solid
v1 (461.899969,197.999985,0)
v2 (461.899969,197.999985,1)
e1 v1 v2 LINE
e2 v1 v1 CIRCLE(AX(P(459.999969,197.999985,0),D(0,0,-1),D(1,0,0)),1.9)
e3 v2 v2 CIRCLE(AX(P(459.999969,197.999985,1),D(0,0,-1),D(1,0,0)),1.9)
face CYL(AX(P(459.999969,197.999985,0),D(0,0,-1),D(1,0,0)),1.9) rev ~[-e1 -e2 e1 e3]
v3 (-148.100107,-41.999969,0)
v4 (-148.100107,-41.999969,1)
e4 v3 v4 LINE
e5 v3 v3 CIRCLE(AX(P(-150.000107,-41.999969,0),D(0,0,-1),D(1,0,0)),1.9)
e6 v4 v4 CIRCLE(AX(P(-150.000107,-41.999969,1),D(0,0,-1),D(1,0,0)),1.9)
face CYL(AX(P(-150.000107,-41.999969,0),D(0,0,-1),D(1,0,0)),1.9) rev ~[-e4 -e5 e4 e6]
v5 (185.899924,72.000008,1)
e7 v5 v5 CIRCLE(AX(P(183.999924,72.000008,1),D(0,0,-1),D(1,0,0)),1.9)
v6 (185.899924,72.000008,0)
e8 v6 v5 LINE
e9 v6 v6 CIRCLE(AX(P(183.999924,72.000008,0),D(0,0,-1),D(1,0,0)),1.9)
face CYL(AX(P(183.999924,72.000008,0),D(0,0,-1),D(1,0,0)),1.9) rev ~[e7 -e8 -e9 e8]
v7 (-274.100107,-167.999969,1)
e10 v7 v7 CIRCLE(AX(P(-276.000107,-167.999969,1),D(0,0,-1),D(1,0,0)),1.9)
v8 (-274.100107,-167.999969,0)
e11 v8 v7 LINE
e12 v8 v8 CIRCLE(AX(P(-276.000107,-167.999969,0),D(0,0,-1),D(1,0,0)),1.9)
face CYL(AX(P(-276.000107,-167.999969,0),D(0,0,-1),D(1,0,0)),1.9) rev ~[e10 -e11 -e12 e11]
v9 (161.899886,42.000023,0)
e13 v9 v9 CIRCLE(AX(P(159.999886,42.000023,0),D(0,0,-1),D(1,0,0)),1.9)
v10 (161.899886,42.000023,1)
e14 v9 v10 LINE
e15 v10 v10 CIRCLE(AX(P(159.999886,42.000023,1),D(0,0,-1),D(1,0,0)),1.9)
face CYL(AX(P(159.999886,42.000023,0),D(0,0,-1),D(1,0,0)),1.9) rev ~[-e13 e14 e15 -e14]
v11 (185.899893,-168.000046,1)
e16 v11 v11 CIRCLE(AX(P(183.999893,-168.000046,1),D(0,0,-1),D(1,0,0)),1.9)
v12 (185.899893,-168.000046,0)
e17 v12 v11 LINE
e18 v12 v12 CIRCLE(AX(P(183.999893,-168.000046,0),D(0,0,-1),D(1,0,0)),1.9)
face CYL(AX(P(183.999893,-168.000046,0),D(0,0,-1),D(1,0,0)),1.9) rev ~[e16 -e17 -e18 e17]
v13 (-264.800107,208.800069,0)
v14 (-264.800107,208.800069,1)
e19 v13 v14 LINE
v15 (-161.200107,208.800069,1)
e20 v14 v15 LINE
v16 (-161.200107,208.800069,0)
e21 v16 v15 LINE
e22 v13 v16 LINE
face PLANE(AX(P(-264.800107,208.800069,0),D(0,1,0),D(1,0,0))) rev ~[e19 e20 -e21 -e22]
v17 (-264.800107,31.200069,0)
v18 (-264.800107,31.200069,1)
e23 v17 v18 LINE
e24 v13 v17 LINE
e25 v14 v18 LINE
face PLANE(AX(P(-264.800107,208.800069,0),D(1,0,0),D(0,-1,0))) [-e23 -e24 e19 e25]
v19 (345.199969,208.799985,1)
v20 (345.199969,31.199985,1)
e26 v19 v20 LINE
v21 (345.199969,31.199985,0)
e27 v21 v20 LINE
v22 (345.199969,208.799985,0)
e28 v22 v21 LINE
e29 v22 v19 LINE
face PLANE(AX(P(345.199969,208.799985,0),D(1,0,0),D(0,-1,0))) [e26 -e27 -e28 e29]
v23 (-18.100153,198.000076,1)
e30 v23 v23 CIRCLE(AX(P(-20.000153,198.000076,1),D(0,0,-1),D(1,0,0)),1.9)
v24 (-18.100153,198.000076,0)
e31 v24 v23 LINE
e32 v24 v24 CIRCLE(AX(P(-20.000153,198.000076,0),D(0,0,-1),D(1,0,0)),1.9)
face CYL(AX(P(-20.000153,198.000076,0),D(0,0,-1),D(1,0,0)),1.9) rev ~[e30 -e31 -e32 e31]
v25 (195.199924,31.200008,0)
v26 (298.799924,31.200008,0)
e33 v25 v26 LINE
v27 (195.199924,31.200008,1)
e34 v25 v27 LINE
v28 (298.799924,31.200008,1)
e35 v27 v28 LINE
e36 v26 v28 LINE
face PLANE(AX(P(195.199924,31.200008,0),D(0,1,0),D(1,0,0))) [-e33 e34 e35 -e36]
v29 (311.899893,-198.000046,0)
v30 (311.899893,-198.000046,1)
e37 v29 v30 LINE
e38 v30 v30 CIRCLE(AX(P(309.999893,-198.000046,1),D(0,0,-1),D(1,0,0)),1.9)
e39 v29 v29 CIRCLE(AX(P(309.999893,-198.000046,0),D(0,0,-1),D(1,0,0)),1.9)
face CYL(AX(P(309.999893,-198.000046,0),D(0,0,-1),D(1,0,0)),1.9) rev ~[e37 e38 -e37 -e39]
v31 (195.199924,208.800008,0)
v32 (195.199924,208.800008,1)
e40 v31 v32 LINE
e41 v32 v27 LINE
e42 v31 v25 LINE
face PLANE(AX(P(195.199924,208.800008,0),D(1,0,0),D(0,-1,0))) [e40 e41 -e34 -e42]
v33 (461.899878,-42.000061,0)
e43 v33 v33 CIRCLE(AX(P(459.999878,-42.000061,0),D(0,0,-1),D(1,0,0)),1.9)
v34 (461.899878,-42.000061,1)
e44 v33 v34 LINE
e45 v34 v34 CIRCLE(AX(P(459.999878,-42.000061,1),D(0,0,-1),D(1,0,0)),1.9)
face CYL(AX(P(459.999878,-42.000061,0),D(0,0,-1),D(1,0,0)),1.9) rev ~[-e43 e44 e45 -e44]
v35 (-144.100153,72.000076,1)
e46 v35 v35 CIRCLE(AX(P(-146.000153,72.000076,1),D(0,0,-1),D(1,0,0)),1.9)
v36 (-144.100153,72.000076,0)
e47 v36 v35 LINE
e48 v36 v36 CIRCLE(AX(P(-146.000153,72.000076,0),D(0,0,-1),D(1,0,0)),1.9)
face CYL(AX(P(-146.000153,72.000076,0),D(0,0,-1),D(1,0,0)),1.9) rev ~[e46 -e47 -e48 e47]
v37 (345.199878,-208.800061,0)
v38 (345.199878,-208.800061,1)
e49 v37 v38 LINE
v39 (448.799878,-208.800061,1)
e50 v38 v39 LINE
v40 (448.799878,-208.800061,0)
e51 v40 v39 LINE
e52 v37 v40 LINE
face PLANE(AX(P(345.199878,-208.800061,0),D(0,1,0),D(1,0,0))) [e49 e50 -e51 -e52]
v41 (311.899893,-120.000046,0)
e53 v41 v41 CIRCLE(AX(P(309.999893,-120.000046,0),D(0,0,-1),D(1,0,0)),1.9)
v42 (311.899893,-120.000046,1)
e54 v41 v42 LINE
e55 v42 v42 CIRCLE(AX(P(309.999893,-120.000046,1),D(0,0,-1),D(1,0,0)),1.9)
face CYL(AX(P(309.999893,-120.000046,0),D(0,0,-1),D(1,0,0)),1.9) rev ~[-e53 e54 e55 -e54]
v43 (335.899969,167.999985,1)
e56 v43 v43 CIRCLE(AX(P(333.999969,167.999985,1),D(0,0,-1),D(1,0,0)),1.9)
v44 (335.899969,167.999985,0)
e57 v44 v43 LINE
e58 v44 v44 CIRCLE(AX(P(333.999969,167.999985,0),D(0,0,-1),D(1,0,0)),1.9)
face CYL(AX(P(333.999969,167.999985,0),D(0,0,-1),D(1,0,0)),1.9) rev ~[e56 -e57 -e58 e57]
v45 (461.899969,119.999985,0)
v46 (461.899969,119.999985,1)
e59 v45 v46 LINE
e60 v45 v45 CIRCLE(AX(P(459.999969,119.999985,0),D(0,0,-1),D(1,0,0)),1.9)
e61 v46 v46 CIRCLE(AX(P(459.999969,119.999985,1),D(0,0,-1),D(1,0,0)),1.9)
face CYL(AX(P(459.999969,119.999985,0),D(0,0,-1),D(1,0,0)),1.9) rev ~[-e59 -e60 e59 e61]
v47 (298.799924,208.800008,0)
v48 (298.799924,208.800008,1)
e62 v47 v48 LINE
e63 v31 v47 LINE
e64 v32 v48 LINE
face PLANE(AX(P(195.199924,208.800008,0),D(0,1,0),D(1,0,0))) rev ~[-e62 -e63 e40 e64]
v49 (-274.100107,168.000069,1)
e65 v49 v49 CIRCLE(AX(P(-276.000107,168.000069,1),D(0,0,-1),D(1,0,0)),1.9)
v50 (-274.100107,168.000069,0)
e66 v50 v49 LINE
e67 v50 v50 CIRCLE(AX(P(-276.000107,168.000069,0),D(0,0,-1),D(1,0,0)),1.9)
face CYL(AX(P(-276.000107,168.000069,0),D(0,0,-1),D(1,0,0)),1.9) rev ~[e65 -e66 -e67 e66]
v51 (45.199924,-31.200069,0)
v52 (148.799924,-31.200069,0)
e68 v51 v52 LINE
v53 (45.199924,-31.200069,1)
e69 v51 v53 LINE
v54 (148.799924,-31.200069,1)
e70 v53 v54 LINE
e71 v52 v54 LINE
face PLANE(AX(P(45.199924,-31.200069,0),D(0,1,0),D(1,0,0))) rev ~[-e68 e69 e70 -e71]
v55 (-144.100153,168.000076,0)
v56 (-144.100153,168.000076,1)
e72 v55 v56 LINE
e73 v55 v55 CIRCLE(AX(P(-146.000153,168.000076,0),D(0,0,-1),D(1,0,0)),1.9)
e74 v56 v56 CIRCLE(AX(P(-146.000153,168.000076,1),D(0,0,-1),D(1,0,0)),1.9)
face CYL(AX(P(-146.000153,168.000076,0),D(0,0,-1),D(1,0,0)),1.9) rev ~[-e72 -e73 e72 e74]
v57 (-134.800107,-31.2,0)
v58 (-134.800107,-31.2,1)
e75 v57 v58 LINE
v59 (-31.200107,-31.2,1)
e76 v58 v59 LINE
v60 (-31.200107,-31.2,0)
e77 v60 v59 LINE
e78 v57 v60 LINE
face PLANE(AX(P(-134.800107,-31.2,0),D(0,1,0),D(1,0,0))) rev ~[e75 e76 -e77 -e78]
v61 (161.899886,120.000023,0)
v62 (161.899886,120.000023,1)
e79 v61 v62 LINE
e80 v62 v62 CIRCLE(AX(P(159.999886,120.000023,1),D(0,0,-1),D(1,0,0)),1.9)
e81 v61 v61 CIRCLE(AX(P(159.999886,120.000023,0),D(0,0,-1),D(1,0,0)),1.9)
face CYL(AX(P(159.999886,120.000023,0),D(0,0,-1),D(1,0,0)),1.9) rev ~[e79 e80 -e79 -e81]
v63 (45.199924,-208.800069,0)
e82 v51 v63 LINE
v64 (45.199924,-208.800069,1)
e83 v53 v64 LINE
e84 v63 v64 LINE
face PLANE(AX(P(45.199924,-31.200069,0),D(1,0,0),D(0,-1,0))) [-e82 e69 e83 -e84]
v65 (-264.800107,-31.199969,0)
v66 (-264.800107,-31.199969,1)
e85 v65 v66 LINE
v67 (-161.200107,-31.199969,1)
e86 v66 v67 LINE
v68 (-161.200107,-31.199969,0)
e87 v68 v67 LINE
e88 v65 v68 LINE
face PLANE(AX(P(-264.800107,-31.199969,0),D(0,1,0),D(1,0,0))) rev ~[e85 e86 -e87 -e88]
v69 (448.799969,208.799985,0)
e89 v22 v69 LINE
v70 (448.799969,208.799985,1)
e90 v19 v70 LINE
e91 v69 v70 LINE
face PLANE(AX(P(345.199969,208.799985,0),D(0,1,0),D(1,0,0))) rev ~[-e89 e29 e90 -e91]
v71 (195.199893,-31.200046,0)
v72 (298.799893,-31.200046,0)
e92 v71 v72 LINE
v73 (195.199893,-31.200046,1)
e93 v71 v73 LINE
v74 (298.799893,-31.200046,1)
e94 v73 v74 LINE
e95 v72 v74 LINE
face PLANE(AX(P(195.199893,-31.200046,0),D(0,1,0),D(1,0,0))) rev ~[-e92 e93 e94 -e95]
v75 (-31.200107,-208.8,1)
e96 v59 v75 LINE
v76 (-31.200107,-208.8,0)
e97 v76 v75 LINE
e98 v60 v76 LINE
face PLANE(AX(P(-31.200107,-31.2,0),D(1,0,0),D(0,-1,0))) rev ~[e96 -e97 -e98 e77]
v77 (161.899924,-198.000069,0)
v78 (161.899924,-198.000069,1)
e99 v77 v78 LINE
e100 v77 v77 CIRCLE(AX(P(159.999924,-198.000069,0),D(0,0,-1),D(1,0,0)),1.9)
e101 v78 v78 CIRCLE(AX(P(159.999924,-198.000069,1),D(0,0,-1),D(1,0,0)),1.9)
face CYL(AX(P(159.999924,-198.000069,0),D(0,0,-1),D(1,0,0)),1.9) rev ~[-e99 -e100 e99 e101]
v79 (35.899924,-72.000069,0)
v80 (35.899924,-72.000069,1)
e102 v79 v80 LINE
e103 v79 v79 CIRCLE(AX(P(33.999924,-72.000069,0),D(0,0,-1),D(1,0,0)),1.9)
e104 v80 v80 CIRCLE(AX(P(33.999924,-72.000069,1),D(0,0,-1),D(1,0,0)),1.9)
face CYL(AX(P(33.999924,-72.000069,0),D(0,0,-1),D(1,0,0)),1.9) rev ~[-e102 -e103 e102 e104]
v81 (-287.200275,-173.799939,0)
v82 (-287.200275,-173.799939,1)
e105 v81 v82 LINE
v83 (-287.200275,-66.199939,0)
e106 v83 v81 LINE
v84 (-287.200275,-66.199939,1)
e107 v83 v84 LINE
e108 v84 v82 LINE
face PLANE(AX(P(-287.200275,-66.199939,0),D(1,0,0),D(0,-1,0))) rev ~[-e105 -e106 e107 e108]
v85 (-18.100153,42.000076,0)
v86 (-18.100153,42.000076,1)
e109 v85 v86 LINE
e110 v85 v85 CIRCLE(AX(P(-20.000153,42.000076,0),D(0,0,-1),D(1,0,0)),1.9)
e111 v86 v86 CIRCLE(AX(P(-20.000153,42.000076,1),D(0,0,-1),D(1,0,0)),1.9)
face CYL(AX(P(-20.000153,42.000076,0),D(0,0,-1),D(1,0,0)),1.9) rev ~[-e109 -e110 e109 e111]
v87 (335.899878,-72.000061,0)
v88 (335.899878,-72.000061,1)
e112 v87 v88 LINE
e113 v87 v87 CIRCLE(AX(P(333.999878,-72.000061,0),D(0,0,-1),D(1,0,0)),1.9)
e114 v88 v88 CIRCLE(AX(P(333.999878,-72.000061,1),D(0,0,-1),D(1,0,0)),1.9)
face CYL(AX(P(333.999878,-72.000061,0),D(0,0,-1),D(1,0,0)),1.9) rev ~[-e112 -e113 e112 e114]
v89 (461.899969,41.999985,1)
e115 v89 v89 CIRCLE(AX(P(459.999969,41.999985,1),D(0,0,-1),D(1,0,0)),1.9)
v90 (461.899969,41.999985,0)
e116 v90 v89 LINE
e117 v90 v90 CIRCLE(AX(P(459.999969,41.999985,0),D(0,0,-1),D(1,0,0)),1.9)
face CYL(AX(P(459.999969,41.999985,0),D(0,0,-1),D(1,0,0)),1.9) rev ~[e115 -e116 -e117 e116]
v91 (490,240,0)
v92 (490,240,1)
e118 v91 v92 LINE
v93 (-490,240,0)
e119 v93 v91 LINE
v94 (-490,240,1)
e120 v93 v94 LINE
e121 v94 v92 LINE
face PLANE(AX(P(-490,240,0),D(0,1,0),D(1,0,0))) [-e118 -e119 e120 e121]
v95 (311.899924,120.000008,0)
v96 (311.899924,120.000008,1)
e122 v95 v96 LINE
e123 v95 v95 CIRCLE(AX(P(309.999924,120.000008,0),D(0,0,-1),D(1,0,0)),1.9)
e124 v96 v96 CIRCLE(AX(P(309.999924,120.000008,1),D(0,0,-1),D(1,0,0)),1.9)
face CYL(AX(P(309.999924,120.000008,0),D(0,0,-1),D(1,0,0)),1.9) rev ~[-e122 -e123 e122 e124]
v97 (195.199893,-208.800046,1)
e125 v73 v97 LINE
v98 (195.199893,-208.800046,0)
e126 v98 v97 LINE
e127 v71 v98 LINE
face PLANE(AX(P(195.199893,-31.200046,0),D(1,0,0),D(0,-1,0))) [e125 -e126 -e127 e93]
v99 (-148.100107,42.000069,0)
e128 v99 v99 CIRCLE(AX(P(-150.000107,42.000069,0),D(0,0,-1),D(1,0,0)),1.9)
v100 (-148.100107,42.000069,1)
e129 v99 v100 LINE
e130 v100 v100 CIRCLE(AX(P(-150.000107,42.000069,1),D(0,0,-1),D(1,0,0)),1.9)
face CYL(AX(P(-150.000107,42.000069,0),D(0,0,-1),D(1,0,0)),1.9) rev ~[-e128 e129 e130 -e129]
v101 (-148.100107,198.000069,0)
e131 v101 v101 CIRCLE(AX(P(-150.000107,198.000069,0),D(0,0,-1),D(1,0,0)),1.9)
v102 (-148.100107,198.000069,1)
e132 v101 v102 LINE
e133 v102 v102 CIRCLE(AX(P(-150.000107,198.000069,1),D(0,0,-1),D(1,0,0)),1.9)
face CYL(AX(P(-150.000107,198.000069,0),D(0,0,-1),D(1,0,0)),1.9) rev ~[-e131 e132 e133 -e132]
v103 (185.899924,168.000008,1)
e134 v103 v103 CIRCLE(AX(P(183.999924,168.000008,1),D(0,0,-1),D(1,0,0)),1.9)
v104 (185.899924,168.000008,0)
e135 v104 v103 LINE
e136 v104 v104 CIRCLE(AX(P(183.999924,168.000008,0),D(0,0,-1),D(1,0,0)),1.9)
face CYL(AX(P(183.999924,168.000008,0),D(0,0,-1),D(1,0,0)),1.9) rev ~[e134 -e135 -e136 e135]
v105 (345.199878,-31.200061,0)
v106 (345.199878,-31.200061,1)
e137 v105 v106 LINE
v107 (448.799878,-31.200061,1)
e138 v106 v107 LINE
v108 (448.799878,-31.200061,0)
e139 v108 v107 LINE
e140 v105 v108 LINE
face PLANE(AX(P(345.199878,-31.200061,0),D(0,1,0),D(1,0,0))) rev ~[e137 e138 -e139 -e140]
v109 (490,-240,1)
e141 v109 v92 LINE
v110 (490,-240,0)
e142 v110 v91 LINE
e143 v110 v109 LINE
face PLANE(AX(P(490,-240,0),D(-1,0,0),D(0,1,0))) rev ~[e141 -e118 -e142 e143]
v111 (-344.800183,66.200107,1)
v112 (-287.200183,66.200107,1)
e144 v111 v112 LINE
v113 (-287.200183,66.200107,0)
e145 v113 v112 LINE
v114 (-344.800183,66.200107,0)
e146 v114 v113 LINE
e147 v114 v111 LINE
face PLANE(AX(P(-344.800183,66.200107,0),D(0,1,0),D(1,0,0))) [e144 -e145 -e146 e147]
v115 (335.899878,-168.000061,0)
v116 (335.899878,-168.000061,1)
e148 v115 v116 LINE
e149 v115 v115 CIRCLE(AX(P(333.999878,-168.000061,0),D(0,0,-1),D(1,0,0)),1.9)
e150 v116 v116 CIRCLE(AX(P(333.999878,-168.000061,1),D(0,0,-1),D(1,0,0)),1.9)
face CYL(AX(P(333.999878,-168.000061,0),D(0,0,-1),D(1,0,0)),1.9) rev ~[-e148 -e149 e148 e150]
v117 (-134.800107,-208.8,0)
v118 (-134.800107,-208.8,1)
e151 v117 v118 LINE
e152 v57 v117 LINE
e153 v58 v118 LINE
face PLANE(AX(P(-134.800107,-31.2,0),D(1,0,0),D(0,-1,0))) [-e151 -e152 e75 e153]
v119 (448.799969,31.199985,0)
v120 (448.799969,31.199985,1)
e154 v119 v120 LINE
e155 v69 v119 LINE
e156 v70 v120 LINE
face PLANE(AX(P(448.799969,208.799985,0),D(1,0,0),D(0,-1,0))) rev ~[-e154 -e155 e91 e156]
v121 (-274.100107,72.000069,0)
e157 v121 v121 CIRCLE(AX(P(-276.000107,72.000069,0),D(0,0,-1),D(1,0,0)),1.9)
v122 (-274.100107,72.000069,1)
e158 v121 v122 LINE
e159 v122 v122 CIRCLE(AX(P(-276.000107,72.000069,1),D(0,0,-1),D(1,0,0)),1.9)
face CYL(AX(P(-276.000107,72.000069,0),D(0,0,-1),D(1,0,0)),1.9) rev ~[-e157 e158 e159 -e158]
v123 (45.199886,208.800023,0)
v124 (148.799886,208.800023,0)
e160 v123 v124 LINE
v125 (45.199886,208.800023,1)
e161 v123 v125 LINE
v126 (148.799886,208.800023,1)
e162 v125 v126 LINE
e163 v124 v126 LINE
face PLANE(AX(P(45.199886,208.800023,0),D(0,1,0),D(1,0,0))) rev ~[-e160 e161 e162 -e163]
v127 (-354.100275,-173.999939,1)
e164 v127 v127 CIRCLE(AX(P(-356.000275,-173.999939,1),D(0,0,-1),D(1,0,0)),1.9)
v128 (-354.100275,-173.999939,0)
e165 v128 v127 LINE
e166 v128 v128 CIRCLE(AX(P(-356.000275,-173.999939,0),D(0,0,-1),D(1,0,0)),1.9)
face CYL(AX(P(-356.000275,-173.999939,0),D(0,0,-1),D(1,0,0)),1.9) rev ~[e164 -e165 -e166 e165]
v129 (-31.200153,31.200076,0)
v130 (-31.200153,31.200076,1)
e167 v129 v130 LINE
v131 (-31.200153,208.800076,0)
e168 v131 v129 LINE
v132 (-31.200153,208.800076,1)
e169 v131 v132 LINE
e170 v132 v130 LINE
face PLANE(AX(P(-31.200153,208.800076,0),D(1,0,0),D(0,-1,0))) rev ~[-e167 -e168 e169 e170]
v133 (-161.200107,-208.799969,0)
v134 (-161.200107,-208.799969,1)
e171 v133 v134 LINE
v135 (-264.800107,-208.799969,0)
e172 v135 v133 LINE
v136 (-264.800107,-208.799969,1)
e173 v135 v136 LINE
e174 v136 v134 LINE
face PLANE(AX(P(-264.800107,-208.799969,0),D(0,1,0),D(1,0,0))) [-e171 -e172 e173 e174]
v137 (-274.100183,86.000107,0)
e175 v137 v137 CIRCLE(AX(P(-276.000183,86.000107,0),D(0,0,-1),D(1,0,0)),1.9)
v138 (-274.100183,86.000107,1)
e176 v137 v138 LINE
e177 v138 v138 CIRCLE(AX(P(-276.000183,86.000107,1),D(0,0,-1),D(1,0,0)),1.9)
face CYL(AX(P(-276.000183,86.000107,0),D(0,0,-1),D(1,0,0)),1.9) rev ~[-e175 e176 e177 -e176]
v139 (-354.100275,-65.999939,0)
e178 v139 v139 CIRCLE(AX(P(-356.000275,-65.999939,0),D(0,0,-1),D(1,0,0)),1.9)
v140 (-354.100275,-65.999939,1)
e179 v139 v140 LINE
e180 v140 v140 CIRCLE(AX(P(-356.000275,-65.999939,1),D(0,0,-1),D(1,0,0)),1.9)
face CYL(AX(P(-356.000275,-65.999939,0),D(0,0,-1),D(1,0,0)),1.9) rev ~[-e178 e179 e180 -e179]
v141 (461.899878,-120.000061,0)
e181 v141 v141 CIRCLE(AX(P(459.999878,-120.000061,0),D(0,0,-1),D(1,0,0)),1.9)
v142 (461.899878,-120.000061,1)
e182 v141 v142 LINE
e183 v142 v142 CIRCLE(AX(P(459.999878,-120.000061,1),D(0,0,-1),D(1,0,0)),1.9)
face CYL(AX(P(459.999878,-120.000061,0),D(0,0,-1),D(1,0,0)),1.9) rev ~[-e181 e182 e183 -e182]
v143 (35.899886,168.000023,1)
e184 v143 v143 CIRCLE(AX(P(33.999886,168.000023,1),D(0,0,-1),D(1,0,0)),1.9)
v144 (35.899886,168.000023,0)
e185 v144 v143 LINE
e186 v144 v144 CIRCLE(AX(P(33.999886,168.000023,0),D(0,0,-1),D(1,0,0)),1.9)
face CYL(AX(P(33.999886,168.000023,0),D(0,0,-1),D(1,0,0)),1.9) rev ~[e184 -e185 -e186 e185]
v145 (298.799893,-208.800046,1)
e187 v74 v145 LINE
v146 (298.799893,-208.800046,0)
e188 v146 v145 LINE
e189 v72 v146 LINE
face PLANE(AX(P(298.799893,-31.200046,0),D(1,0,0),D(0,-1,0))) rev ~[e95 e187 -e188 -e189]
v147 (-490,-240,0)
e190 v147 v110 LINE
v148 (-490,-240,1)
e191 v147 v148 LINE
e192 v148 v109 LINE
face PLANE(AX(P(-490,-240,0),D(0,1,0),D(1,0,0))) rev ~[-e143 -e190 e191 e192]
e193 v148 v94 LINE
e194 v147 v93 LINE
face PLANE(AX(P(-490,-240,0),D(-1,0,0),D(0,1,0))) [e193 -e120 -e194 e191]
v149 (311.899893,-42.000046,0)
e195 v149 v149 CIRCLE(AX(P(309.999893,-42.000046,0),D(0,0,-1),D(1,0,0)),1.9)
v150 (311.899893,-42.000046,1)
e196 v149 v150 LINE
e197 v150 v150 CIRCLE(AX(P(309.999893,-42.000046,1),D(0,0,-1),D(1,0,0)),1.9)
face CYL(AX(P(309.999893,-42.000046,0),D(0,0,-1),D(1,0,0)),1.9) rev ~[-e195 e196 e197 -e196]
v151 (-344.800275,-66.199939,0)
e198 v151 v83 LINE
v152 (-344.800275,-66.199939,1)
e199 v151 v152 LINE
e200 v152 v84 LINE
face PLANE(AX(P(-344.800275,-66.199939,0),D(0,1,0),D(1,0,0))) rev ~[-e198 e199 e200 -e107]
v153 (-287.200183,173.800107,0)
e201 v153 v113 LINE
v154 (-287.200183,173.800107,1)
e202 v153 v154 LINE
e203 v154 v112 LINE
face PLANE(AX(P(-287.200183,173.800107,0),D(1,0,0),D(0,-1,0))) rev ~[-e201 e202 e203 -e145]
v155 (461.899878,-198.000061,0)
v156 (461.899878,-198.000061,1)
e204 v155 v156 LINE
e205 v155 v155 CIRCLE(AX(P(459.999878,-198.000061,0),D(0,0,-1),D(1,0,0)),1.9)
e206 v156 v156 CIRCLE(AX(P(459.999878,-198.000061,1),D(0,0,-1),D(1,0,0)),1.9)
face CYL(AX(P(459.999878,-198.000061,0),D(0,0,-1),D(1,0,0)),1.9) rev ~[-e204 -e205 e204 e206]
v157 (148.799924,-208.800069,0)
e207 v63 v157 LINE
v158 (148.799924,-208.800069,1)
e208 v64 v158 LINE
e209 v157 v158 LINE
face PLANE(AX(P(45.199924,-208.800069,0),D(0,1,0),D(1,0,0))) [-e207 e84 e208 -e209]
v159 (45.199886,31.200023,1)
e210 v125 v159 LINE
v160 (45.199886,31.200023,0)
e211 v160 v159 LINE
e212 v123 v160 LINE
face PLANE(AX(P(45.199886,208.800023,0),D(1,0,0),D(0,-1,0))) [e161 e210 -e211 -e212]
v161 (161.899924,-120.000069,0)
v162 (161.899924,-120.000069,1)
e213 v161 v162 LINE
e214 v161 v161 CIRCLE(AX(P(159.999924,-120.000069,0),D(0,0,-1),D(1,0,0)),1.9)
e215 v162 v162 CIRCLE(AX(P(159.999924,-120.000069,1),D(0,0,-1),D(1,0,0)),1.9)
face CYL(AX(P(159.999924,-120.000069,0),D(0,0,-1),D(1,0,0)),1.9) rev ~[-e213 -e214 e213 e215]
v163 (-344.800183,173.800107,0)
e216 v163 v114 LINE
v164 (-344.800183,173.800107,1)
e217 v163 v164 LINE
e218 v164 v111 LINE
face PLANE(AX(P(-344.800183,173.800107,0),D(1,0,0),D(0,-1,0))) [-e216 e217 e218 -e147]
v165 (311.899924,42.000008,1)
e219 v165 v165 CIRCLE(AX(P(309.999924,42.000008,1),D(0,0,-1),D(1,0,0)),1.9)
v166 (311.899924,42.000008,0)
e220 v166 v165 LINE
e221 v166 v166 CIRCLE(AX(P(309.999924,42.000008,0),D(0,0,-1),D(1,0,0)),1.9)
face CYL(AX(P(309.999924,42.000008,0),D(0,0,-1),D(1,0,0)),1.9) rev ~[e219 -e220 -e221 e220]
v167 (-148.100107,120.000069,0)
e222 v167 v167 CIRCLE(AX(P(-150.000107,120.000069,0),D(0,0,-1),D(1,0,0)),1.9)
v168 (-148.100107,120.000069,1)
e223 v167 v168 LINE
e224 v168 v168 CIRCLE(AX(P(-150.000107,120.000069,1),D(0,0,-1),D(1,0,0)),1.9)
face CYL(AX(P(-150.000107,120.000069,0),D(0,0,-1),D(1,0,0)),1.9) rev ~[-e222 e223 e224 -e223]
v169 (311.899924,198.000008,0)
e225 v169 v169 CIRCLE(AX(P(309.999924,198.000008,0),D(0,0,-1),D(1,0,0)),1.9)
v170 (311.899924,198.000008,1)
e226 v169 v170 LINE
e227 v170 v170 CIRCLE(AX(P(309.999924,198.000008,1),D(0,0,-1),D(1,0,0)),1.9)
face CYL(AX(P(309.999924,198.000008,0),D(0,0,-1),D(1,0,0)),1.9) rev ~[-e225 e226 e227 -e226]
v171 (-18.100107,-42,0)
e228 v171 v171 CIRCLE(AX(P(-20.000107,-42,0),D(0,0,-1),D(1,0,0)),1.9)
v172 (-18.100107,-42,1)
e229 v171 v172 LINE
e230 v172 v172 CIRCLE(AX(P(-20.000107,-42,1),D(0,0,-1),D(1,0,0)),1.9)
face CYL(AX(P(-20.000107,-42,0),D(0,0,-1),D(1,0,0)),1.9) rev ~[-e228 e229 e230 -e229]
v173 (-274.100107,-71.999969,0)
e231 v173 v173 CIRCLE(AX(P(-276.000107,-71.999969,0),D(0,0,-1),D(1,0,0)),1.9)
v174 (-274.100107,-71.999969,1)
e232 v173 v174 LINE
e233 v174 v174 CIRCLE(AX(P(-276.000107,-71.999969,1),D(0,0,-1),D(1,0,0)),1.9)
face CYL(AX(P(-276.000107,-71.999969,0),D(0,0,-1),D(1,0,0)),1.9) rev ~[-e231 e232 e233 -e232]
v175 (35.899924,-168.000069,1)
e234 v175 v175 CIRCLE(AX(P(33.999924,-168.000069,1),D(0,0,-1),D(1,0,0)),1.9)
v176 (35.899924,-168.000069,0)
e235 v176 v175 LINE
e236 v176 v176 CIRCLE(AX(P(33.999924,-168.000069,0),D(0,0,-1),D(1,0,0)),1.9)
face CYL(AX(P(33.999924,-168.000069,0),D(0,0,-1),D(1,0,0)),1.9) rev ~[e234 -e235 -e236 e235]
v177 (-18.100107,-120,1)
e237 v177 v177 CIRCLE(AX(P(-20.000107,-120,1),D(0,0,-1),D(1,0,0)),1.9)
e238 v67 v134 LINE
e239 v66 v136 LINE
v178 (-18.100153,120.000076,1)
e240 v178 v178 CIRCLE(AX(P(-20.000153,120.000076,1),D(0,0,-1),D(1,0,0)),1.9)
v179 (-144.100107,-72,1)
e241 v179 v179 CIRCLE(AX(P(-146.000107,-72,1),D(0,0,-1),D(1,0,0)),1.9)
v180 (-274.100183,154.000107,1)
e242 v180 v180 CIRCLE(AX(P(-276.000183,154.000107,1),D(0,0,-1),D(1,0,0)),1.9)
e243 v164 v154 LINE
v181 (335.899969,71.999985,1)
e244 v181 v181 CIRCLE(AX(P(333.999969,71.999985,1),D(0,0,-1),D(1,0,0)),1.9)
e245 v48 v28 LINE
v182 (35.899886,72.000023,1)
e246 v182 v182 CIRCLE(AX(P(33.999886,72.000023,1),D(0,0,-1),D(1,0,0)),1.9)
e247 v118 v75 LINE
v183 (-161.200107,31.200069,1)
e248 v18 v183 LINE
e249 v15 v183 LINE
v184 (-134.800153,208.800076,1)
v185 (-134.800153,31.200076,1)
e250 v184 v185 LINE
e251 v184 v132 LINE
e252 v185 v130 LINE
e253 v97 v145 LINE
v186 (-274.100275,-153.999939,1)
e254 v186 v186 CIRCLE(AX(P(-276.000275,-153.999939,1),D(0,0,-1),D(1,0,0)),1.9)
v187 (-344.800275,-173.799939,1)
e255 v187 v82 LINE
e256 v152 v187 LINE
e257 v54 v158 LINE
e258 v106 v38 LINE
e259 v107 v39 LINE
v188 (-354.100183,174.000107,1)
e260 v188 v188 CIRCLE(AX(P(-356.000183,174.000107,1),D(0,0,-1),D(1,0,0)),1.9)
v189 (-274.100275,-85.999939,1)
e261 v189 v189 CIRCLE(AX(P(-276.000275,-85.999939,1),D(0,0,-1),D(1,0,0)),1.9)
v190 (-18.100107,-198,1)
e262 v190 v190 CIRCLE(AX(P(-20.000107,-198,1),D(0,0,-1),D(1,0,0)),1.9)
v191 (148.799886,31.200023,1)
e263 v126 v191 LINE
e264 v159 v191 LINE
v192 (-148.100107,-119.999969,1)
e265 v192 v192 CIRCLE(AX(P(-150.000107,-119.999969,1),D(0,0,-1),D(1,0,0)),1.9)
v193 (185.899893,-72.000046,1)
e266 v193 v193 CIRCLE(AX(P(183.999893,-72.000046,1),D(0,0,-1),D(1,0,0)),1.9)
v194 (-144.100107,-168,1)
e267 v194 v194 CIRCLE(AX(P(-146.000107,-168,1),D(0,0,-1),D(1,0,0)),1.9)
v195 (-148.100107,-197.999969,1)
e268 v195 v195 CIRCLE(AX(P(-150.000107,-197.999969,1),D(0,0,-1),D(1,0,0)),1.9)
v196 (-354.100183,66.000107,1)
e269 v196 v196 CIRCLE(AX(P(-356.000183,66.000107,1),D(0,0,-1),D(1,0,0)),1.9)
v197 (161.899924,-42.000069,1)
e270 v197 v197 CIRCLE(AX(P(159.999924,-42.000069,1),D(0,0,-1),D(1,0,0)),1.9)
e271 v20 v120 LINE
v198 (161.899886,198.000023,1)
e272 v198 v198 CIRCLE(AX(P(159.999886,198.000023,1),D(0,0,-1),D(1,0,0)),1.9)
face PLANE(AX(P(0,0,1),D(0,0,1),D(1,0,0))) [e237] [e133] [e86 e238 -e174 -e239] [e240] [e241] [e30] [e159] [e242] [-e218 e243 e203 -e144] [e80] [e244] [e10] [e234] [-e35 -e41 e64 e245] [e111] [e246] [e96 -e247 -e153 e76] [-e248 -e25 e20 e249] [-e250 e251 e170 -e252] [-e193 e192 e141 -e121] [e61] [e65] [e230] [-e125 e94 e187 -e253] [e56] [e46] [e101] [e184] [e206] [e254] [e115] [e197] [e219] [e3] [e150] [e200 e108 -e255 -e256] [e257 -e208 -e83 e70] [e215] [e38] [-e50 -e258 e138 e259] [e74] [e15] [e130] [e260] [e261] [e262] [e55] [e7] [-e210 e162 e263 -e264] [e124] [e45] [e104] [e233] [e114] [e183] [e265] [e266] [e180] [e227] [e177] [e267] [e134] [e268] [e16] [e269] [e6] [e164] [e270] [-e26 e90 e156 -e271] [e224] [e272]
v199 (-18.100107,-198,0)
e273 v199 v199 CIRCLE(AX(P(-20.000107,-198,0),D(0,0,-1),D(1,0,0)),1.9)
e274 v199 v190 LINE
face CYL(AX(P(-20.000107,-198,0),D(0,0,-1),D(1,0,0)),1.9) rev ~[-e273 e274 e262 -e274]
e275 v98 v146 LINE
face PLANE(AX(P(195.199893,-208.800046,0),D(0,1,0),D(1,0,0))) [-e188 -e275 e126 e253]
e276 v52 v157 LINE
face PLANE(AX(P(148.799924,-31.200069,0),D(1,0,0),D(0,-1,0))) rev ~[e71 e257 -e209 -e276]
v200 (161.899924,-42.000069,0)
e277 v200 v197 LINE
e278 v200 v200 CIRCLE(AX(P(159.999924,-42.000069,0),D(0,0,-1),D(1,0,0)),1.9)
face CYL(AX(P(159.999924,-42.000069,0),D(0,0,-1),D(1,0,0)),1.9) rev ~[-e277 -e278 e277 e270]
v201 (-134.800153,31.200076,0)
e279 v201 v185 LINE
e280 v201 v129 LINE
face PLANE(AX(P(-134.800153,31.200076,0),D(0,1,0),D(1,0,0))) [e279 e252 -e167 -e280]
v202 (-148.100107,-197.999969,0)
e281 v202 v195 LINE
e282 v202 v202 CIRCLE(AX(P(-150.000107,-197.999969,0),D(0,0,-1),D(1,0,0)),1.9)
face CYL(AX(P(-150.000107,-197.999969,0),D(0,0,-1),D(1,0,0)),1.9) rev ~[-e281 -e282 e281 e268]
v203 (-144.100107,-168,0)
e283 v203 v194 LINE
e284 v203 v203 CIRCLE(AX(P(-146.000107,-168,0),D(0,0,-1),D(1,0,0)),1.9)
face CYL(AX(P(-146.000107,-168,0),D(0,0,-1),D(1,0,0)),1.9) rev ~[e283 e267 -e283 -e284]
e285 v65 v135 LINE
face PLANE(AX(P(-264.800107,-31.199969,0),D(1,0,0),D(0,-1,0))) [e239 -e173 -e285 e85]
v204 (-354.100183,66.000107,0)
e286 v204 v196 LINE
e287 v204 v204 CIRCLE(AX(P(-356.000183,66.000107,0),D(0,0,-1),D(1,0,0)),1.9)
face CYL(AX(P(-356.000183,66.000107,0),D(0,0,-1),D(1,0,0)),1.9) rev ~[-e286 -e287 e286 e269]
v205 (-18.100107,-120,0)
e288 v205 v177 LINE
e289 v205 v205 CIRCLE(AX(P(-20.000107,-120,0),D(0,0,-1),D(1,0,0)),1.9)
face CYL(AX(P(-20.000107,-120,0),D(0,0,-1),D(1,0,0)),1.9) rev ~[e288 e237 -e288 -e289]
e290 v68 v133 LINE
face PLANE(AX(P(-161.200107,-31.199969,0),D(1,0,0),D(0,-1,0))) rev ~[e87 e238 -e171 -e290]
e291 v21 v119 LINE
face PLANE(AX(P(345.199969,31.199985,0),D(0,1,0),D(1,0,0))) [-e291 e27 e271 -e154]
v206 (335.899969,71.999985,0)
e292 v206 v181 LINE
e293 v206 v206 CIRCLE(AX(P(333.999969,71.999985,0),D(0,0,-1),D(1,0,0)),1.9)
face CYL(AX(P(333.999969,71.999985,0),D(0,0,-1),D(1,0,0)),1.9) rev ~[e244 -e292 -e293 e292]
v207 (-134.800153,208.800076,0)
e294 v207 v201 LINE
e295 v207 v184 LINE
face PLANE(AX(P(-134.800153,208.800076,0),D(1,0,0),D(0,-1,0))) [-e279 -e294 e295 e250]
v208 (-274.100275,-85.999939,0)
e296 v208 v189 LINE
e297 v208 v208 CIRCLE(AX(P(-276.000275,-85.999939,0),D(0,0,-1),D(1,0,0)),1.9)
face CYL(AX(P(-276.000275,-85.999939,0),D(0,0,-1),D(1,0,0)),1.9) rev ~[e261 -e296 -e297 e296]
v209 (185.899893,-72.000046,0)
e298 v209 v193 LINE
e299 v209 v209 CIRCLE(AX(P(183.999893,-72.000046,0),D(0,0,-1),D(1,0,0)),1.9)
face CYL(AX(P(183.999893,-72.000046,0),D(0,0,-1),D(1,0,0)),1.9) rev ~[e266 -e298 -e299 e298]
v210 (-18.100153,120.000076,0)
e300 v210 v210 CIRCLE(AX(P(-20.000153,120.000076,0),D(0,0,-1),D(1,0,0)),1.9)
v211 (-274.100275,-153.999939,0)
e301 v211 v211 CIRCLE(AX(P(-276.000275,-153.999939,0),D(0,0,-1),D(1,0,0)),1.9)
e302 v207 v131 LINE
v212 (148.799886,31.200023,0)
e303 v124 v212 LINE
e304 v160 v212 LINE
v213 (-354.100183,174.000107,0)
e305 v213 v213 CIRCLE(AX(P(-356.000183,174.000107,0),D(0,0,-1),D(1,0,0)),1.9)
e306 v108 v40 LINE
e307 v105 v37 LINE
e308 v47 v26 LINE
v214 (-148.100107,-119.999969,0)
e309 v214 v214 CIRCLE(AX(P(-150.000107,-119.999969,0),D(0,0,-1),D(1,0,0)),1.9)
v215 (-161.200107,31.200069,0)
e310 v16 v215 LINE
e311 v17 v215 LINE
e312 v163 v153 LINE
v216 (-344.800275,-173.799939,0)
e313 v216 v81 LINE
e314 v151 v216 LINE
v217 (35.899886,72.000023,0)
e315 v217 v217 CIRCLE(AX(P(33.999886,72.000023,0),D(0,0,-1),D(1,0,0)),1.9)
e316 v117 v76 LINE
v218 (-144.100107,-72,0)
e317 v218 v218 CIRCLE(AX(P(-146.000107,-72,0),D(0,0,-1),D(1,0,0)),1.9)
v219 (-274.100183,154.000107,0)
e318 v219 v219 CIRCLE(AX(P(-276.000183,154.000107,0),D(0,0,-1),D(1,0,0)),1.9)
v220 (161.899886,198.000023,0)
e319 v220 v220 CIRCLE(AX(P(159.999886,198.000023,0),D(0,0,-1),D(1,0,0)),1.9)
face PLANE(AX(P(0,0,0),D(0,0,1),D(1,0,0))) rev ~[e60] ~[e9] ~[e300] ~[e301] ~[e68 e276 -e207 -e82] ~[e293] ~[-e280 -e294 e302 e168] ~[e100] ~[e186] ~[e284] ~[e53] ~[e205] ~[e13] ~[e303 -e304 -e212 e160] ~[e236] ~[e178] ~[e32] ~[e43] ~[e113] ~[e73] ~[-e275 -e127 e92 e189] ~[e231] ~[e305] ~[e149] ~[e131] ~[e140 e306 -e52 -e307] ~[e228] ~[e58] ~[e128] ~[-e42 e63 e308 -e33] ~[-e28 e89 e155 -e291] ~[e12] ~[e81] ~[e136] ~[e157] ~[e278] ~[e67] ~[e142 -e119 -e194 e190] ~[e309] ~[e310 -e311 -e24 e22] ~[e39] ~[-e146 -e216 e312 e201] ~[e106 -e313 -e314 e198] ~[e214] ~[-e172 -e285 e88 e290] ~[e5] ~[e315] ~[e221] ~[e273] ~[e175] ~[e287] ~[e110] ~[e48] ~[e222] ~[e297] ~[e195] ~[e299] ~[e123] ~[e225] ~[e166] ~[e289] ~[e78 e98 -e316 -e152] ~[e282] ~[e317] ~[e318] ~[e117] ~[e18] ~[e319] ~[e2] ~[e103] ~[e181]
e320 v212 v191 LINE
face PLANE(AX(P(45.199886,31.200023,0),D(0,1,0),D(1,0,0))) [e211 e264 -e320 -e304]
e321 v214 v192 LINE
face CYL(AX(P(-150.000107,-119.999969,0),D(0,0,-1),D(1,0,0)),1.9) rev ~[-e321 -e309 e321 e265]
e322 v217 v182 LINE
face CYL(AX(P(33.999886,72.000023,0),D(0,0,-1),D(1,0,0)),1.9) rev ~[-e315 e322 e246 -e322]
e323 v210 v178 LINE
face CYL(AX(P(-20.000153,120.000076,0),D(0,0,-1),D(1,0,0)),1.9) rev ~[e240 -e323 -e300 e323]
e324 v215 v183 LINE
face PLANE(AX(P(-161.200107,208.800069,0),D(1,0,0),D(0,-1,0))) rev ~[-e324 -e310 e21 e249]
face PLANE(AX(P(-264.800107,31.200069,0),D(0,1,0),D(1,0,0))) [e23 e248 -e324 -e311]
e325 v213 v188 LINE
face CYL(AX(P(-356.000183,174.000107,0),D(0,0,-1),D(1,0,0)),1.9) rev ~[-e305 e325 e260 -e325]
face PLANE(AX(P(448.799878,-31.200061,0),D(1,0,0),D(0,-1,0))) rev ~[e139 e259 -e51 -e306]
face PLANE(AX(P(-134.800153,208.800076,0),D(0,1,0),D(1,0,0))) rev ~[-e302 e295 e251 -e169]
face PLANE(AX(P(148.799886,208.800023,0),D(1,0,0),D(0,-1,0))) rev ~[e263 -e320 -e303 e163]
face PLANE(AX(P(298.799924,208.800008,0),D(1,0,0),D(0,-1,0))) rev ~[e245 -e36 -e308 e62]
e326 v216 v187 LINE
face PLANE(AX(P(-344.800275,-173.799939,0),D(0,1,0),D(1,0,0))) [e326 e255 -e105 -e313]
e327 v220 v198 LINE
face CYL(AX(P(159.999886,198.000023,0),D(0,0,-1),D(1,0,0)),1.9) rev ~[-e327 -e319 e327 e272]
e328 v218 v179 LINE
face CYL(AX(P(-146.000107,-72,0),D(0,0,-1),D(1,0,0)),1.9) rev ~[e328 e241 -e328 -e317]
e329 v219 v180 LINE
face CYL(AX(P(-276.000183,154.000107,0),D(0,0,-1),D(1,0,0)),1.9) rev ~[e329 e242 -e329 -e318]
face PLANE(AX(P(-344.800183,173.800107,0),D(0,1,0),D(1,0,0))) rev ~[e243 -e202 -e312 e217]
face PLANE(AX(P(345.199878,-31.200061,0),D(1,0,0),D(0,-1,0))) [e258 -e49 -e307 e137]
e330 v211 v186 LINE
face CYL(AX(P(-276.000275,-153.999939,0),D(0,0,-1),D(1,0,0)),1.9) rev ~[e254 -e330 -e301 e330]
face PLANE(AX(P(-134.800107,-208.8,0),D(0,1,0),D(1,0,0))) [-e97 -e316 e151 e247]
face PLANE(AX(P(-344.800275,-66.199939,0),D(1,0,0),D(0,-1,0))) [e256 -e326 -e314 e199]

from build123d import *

# Parameters (mm, degrees)
SKETCH_W        = 980
SKETCH_H        = 480
PAD_DEPTH       = 1
SKETCH077_R     = 1.9
SKETCH077_W     = 103.6
SKETCH077_H     = 177.6
POCKET018_DEPTH = 1
SKETCH095_R     = 1.9
SKETCH095_W     = 103.6
SKETCH095_H     = 177.6
POCKET023_DEPTH = 1
SKETCH113_R     = 1.9
SKETCH113_W     = 103.6
SKETCH113_H     = 177.6
POCKET028_DEPTH = 1
SKETCH131_R     = 1.9
SKETCH131_W     = 103.6
SKETCH131_H     = 177.6
POCKET033_DEPTH = 1
SKETCH149_R     = 1.9
SKETCH149_W     = 103.6
SKETCH149_H     = 177.6
POCKET038_DEPTH = 1
SKETCH198_R     = 1.9
SKETCH198_W     = 57.6
SKETCH198_H     = 107.6
POCKET056_DEPTH = 1
SKETCH216_R     = 1.9
SKETCH216_W     = 103.6
SKETCH216_H     = 177.6
POCKET061_DEPTH = 1
SKETCH234_R     = 1.9
SKETCH234_W     = 103.6
SKETCH234_H     = 177.6
POCKET066_DEPTH = 1
SKETCH252_R     = 1.9
SKETCH252_W     = 103.6
SKETCH252_H     = 177.6
POCKET071_DEPTH = 1
SKETCH270_R     = 1.9
SKETCH270_W     = 103.6
SKETCH270_H     = 177.6
POCKET076_DEPTH = 1
SKETCH288_R     = 1.9
SKETCH288_W     = 103.6
SKETCH288_H     = 177.6
POCKET081_DEPTH = 1
SKETCH303_R     = 1.9
SKETCH303_W     = 57.6
SKETCH303_H     = 107.6
POCKET085_DEPTH = 1


with BuildPart() as part:
    # Sketch → Pad (new body)
    with BuildSketch(Plane.XY):
        Rectangle(SKETCH_W, SKETCH_H)
    extrude(amount=PAD_DEPTH)

    # Sketch077 (on Face5 of Pad) → Pocket018 (cut)
    with BuildSketch(Plane(origin=(0, 0, 0), x_dir=(1, 0, 0), z_dir=(0, 0, -1))):
        with Locations((459.999969, -41.999985)):
            Circle(SKETCH077_R)
        with Locations((459.999969, -119.999985)):
            Circle(SKETCH077_R)
        with Locations((459.999969, -197.999985)):
            Circle(SKETCH077_R)
        with Locations((333.999969, -167.999985)):
            Circle(SKETCH077_R)
        with Locations((333.999969, -71.999985)):
            Circle(SKETCH077_R)
        with Locations((396.999969, -119.999985)):
            Rectangle(SKETCH077_W, SKETCH077_H)
    extrude(amount=-POCKET018_DEPTH, mode=Mode.SUBTRACT)

    # Sketch095 (on Face4 of Pocket018) → Pocket023 (cut)
    with BuildSketch(Plane(origin=(0, 0, 0), x_dir=(1, 0, 0), z_dir=(0, 0, -1))):
        with Locations((309.999924, -42.000008)):
            Circle(SKETCH095_R)
        with Locations((309.999924, -120.000008)):
            Circle(SKETCH095_R)
        with Locations((183.999924, -72.000008)):
            Circle(SKETCH095_R)
        with Locations((309.999924, -198.000008)):
            Circle(SKETCH095_R)
        with Locations((183.999924, -168.000008)):
            Circle(SKETCH095_R)
        with Locations((246.999924, -120.000008)):
            Rectangle(SKETCH095_W, SKETCH095_H)
    extrude(amount=-POCKET023_DEPTH, mode=Mode.SUBTRACT)

    # Sketch113 (on Face4 of Pocket023) → Pocket028 (cut)
    with BuildSketch(Plane(origin=(0, 0, 0), x_dir=(1, 0, 0), z_dir=(0, 0, -1))):
        with Locations((159.999886, -120.000023)):
            Circle(SKETCH113_R)
        with Locations((159.999886, -42.000023)):
            Circle(SKETCH113_R)
        with Locations((159.999886, -198.000023)):
            Circle(SKETCH113_R)
        with Locations((33.999886, -168.000023)):
            Circle(SKETCH113_R)
        with Locations((33.999886, -72.000023)):
            Circle(SKETCH113_R)
        with Locations((96.999886, -120.000023)):
            Rectangle(SKETCH113_W, SKETCH113_H)
    extrude(amount=-POCKET028_DEPTH, mode=Mode.SUBTRACT)

    # Sketch131 (on Face4 of Pocket028) → Pocket033 (cut)
    with BuildSketch(Plane(origin=(0, 0, 0), x_dir=(1, 0, 0), z_dir=(0, 0, -1))):
        with Locations((-20.000153, -42.000076)):
            Circle(SKETCH131_R)
        with Locations((-20.000153, -120.000076)):
            Circle(SKETCH131_R)
        with Locations((-20.000153, -198.000076)):
            Circle(SKETCH131_R)
        with Locations((-146.000153, -168.000076)):
            Circle(SKETCH131_R)
        with Locations((-146.000153, -72.000076)):
            Circle(SKETCH131_R)
        with Locations((-83.000153, -120.000076)):
            Rectangle(SKETCH131_W, SKETCH131_H)
    extrude(amount=-POCKET033_DEPTH, mode=Mode.SUBTRACT)

    # Sketch149 (on Face4 of Pocket033) → Pocket038 (cut)
    with BuildSketch(Plane(origin=(0, 0, 0), x_dir=(1, 0, 0), z_dir=(0, 0, -1))):
        with Locations((-150.000107, -42.000069)):
            Circle(SKETCH149_R)
        with Locations((-150.000107, -120.000069)):
            Circle(SKETCH149_R)
        with Locations((-150.000107, -198.000069)):
            Circle(SKETCH149_R)
        with Locations((-276.000107, -168.000069)):
            Circle(SKETCH149_R)
        with Locations((-276.000107, -72.000069)):
            Circle(SKETCH149_R)
        with Locations((-213.000107, -120.000069)):
            Rectangle(SKETCH149_W, SKETCH149_H)
    extrude(amount=-POCKET038_DEPTH, mode=Mode.SUBTRACT)

    # Sketch198 (on Face5 of Pad) → Pocket056 (cut)
    with BuildSketch(Plane(origin=(0, 0, 0), x_dir=(1, 0, 0), z_dir=(0, 0, -1))):
        with Locations((-276.000183, -86.000107)):
            Circle(SKETCH198_R)
        with Locations((-276.000183, -154.000107)):
            Circle(SKETCH198_R)
        with Locations((-356.000183, -66.000107)):
            Circle(SKETCH198_R)
        with Locations((-356.000183, -174.000107)):
            Circle(SKETCH198_R)
        with Locations((-316.000183, -120.000107)):
            Rectangle(SKETCH198_W, SKETCH198_H)
    extrude(amount=-POCKET056_DEPTH, mode=Mode.SUBTRACT)

    # Sketch216 (on Face5 of Pad) → Pocket061 (cut)
    with BuildSketch(Plane(origin=(0, 0, 0), x_dir=(1, 0, 0), z_dir=(0, 0, -1))):
        with Locations((459.999878, 42.000061)):
            Circle(SKETCH216_R)
        with Locations((333.999878, 72.000061)):
            Circle(SKETCH216_R)
        with Locations((333.999878, 168.000061)):
            Circle(SKETCH216_R)
        with Locations((459.999878, 198.000061)):
            Circle(SKETCH216_R)
        with Locations((459.999878, 120.000061)):
            Circle(SKETCH216_R)
        with Locations((396.999878, 120.000061)):
            Rectangle(SKETCH216_W, SKETCH216_H)
    extrude(amount=-POCKET061_DEPTH, mode=Mode.SUBTRACT)

    # Sketch234 (on Face4 of Pocket061) → Pocket066 (cut)
    with BuildSketch(Plane(origin=(0, 0, 0), x_dir=(1, 0, 0), z_dir=(0, 0, -1))):
        with Locations((309.999893, 198.000046)):
            Circle(SKETCH234_R)
        with Locations((183.999893, 168.000046)):
            Circle(SKETCH234_R)
        with Locations((309.999893, 120.000046)):
            Circle(SKETCH234_R)
        with Locations((309.999893, 42.000046)):
            Circle(SKETCH234_R)
        with Locations((183.999893, 72.000046)):
            Circle(SKETCH234_R)
        with Locations((246.999893, 120.000046)):
            Rectangle(SKETCH234_W, SKETCH234_H)
    extrude(amount=-POCKET066_DEPTH, mode=Mode.SUBTRACT)

    # Sketch252 (on Face4 of Pocket066) → Pocket071 (cut)
    with BuildSketch(Plane(origin=(0, 0, 0), x_dir=(1, 0, 0), z_dir=(0, 0, -1))):
        with Locations((159.999924, 198.000069)):
            Circle(SKETCH252_R)
        with Locations((159.999924, 120.000069)):
            Circle(SKETCH252_R)
        with Locations((159.999924, 42.000069)):
            Circle(SKETCH252_R)
        with Locations((33.999924, 72.000069)):
            Circle(SKETCH252_R)
        with Locations((33.999924, 168.000069)):
            Circle(SKETCH252_R)
        with Locations((96.999924, 120.000069)):
            Rectangle(SKETCH252_W, SKETCH252_H)
    extrude(amount=-POCKET071_DEPTH, mode=Mode.SUBTRACT)

    # Sketch270 (on Face4 of Pocket071) → Pocket076 (cut)
    with BuildSketch(Plane(origin=(0, 0, 0), x_dir=(1, 0, 0), z_dir=(0, 0, -1))):
        with Locations((-146.000107, 168)):
            Circle(SKETCH270_R)
        with Locations((-146.000107, 72)):
            Circle(SKETCH270_R)
        with Locations((-20.000107, 42)):
            Circle(SKETCH270_R)
        with Locations((-20.000107, 120)):
            Circle(SKETCH270_R)
        with Locations((-20.000107, 198)):
            Circle(SKETCH270_R)
        with Locations((-83.000107, 120)):
            Rectangle(SKETCH270_W, SKETCH270_H)
    extrude(amount=-POCKET076_DEPTH, mode=Mode.SUBTRACT)

    # Sketch288 (on Face4 of Pocket076) → Pocket081 (cut)
    with BuildSketch(Plane(origin=(0, 0, 0), x_dir=(1, 0, 0), z_dir=(0, 0, -1))):
        with Locations((-150.000107, 197.999969)):
            Circle(SKETCH288_R)
        with Locations((-150.000107, 119.999969)):
            Circle(SKETCH288_R)
        with Locations((-150.000107, 41.999969)):
            Circle(SKETCH288_R)
        with Locations((-276.000107, 71.999969)):
            Circle(SKETCH288_R)
        with Locations((-276.000107, 167.999969)):
            Circle(SKETCH288_R)
        with Locations((-213.000107, 119.999969)):
            Rectangle(SKETCH288_W, SKETCH288_H)
    extrude(amount=-POCKET081_DEPTH, mode=Mode.SUBTRACT)

    # Sketch303 (on Face4 of Pocket081) → Pocket085 (cut)
    with BuildSketch(Plane(origin=(0, 0, 0), x_dir=(1, 0, 0), z_dir=(0, 0, -1))):
        with Locations((-276.000275, 85.999939)):
            Circle(SKETCH303_R)
        with Locations((-356.000275, 65.999939)):
            Circle(SKETCH303_R)
        with Locations((-276.000275, 153.999939)):
            Circle(SKETCH303_R)
        with Locations((-356.000275, 173.999939)):
            Circle(SKETCH303_R)
        with Locations((-316.000275, 119.999939)):
            Rectangle(SKETCH303_W, SKETCH303_H)
    extrude(amount=-POCKET085_DEPTH, mode=Mode.SUBTRACT)


solid = part.part
